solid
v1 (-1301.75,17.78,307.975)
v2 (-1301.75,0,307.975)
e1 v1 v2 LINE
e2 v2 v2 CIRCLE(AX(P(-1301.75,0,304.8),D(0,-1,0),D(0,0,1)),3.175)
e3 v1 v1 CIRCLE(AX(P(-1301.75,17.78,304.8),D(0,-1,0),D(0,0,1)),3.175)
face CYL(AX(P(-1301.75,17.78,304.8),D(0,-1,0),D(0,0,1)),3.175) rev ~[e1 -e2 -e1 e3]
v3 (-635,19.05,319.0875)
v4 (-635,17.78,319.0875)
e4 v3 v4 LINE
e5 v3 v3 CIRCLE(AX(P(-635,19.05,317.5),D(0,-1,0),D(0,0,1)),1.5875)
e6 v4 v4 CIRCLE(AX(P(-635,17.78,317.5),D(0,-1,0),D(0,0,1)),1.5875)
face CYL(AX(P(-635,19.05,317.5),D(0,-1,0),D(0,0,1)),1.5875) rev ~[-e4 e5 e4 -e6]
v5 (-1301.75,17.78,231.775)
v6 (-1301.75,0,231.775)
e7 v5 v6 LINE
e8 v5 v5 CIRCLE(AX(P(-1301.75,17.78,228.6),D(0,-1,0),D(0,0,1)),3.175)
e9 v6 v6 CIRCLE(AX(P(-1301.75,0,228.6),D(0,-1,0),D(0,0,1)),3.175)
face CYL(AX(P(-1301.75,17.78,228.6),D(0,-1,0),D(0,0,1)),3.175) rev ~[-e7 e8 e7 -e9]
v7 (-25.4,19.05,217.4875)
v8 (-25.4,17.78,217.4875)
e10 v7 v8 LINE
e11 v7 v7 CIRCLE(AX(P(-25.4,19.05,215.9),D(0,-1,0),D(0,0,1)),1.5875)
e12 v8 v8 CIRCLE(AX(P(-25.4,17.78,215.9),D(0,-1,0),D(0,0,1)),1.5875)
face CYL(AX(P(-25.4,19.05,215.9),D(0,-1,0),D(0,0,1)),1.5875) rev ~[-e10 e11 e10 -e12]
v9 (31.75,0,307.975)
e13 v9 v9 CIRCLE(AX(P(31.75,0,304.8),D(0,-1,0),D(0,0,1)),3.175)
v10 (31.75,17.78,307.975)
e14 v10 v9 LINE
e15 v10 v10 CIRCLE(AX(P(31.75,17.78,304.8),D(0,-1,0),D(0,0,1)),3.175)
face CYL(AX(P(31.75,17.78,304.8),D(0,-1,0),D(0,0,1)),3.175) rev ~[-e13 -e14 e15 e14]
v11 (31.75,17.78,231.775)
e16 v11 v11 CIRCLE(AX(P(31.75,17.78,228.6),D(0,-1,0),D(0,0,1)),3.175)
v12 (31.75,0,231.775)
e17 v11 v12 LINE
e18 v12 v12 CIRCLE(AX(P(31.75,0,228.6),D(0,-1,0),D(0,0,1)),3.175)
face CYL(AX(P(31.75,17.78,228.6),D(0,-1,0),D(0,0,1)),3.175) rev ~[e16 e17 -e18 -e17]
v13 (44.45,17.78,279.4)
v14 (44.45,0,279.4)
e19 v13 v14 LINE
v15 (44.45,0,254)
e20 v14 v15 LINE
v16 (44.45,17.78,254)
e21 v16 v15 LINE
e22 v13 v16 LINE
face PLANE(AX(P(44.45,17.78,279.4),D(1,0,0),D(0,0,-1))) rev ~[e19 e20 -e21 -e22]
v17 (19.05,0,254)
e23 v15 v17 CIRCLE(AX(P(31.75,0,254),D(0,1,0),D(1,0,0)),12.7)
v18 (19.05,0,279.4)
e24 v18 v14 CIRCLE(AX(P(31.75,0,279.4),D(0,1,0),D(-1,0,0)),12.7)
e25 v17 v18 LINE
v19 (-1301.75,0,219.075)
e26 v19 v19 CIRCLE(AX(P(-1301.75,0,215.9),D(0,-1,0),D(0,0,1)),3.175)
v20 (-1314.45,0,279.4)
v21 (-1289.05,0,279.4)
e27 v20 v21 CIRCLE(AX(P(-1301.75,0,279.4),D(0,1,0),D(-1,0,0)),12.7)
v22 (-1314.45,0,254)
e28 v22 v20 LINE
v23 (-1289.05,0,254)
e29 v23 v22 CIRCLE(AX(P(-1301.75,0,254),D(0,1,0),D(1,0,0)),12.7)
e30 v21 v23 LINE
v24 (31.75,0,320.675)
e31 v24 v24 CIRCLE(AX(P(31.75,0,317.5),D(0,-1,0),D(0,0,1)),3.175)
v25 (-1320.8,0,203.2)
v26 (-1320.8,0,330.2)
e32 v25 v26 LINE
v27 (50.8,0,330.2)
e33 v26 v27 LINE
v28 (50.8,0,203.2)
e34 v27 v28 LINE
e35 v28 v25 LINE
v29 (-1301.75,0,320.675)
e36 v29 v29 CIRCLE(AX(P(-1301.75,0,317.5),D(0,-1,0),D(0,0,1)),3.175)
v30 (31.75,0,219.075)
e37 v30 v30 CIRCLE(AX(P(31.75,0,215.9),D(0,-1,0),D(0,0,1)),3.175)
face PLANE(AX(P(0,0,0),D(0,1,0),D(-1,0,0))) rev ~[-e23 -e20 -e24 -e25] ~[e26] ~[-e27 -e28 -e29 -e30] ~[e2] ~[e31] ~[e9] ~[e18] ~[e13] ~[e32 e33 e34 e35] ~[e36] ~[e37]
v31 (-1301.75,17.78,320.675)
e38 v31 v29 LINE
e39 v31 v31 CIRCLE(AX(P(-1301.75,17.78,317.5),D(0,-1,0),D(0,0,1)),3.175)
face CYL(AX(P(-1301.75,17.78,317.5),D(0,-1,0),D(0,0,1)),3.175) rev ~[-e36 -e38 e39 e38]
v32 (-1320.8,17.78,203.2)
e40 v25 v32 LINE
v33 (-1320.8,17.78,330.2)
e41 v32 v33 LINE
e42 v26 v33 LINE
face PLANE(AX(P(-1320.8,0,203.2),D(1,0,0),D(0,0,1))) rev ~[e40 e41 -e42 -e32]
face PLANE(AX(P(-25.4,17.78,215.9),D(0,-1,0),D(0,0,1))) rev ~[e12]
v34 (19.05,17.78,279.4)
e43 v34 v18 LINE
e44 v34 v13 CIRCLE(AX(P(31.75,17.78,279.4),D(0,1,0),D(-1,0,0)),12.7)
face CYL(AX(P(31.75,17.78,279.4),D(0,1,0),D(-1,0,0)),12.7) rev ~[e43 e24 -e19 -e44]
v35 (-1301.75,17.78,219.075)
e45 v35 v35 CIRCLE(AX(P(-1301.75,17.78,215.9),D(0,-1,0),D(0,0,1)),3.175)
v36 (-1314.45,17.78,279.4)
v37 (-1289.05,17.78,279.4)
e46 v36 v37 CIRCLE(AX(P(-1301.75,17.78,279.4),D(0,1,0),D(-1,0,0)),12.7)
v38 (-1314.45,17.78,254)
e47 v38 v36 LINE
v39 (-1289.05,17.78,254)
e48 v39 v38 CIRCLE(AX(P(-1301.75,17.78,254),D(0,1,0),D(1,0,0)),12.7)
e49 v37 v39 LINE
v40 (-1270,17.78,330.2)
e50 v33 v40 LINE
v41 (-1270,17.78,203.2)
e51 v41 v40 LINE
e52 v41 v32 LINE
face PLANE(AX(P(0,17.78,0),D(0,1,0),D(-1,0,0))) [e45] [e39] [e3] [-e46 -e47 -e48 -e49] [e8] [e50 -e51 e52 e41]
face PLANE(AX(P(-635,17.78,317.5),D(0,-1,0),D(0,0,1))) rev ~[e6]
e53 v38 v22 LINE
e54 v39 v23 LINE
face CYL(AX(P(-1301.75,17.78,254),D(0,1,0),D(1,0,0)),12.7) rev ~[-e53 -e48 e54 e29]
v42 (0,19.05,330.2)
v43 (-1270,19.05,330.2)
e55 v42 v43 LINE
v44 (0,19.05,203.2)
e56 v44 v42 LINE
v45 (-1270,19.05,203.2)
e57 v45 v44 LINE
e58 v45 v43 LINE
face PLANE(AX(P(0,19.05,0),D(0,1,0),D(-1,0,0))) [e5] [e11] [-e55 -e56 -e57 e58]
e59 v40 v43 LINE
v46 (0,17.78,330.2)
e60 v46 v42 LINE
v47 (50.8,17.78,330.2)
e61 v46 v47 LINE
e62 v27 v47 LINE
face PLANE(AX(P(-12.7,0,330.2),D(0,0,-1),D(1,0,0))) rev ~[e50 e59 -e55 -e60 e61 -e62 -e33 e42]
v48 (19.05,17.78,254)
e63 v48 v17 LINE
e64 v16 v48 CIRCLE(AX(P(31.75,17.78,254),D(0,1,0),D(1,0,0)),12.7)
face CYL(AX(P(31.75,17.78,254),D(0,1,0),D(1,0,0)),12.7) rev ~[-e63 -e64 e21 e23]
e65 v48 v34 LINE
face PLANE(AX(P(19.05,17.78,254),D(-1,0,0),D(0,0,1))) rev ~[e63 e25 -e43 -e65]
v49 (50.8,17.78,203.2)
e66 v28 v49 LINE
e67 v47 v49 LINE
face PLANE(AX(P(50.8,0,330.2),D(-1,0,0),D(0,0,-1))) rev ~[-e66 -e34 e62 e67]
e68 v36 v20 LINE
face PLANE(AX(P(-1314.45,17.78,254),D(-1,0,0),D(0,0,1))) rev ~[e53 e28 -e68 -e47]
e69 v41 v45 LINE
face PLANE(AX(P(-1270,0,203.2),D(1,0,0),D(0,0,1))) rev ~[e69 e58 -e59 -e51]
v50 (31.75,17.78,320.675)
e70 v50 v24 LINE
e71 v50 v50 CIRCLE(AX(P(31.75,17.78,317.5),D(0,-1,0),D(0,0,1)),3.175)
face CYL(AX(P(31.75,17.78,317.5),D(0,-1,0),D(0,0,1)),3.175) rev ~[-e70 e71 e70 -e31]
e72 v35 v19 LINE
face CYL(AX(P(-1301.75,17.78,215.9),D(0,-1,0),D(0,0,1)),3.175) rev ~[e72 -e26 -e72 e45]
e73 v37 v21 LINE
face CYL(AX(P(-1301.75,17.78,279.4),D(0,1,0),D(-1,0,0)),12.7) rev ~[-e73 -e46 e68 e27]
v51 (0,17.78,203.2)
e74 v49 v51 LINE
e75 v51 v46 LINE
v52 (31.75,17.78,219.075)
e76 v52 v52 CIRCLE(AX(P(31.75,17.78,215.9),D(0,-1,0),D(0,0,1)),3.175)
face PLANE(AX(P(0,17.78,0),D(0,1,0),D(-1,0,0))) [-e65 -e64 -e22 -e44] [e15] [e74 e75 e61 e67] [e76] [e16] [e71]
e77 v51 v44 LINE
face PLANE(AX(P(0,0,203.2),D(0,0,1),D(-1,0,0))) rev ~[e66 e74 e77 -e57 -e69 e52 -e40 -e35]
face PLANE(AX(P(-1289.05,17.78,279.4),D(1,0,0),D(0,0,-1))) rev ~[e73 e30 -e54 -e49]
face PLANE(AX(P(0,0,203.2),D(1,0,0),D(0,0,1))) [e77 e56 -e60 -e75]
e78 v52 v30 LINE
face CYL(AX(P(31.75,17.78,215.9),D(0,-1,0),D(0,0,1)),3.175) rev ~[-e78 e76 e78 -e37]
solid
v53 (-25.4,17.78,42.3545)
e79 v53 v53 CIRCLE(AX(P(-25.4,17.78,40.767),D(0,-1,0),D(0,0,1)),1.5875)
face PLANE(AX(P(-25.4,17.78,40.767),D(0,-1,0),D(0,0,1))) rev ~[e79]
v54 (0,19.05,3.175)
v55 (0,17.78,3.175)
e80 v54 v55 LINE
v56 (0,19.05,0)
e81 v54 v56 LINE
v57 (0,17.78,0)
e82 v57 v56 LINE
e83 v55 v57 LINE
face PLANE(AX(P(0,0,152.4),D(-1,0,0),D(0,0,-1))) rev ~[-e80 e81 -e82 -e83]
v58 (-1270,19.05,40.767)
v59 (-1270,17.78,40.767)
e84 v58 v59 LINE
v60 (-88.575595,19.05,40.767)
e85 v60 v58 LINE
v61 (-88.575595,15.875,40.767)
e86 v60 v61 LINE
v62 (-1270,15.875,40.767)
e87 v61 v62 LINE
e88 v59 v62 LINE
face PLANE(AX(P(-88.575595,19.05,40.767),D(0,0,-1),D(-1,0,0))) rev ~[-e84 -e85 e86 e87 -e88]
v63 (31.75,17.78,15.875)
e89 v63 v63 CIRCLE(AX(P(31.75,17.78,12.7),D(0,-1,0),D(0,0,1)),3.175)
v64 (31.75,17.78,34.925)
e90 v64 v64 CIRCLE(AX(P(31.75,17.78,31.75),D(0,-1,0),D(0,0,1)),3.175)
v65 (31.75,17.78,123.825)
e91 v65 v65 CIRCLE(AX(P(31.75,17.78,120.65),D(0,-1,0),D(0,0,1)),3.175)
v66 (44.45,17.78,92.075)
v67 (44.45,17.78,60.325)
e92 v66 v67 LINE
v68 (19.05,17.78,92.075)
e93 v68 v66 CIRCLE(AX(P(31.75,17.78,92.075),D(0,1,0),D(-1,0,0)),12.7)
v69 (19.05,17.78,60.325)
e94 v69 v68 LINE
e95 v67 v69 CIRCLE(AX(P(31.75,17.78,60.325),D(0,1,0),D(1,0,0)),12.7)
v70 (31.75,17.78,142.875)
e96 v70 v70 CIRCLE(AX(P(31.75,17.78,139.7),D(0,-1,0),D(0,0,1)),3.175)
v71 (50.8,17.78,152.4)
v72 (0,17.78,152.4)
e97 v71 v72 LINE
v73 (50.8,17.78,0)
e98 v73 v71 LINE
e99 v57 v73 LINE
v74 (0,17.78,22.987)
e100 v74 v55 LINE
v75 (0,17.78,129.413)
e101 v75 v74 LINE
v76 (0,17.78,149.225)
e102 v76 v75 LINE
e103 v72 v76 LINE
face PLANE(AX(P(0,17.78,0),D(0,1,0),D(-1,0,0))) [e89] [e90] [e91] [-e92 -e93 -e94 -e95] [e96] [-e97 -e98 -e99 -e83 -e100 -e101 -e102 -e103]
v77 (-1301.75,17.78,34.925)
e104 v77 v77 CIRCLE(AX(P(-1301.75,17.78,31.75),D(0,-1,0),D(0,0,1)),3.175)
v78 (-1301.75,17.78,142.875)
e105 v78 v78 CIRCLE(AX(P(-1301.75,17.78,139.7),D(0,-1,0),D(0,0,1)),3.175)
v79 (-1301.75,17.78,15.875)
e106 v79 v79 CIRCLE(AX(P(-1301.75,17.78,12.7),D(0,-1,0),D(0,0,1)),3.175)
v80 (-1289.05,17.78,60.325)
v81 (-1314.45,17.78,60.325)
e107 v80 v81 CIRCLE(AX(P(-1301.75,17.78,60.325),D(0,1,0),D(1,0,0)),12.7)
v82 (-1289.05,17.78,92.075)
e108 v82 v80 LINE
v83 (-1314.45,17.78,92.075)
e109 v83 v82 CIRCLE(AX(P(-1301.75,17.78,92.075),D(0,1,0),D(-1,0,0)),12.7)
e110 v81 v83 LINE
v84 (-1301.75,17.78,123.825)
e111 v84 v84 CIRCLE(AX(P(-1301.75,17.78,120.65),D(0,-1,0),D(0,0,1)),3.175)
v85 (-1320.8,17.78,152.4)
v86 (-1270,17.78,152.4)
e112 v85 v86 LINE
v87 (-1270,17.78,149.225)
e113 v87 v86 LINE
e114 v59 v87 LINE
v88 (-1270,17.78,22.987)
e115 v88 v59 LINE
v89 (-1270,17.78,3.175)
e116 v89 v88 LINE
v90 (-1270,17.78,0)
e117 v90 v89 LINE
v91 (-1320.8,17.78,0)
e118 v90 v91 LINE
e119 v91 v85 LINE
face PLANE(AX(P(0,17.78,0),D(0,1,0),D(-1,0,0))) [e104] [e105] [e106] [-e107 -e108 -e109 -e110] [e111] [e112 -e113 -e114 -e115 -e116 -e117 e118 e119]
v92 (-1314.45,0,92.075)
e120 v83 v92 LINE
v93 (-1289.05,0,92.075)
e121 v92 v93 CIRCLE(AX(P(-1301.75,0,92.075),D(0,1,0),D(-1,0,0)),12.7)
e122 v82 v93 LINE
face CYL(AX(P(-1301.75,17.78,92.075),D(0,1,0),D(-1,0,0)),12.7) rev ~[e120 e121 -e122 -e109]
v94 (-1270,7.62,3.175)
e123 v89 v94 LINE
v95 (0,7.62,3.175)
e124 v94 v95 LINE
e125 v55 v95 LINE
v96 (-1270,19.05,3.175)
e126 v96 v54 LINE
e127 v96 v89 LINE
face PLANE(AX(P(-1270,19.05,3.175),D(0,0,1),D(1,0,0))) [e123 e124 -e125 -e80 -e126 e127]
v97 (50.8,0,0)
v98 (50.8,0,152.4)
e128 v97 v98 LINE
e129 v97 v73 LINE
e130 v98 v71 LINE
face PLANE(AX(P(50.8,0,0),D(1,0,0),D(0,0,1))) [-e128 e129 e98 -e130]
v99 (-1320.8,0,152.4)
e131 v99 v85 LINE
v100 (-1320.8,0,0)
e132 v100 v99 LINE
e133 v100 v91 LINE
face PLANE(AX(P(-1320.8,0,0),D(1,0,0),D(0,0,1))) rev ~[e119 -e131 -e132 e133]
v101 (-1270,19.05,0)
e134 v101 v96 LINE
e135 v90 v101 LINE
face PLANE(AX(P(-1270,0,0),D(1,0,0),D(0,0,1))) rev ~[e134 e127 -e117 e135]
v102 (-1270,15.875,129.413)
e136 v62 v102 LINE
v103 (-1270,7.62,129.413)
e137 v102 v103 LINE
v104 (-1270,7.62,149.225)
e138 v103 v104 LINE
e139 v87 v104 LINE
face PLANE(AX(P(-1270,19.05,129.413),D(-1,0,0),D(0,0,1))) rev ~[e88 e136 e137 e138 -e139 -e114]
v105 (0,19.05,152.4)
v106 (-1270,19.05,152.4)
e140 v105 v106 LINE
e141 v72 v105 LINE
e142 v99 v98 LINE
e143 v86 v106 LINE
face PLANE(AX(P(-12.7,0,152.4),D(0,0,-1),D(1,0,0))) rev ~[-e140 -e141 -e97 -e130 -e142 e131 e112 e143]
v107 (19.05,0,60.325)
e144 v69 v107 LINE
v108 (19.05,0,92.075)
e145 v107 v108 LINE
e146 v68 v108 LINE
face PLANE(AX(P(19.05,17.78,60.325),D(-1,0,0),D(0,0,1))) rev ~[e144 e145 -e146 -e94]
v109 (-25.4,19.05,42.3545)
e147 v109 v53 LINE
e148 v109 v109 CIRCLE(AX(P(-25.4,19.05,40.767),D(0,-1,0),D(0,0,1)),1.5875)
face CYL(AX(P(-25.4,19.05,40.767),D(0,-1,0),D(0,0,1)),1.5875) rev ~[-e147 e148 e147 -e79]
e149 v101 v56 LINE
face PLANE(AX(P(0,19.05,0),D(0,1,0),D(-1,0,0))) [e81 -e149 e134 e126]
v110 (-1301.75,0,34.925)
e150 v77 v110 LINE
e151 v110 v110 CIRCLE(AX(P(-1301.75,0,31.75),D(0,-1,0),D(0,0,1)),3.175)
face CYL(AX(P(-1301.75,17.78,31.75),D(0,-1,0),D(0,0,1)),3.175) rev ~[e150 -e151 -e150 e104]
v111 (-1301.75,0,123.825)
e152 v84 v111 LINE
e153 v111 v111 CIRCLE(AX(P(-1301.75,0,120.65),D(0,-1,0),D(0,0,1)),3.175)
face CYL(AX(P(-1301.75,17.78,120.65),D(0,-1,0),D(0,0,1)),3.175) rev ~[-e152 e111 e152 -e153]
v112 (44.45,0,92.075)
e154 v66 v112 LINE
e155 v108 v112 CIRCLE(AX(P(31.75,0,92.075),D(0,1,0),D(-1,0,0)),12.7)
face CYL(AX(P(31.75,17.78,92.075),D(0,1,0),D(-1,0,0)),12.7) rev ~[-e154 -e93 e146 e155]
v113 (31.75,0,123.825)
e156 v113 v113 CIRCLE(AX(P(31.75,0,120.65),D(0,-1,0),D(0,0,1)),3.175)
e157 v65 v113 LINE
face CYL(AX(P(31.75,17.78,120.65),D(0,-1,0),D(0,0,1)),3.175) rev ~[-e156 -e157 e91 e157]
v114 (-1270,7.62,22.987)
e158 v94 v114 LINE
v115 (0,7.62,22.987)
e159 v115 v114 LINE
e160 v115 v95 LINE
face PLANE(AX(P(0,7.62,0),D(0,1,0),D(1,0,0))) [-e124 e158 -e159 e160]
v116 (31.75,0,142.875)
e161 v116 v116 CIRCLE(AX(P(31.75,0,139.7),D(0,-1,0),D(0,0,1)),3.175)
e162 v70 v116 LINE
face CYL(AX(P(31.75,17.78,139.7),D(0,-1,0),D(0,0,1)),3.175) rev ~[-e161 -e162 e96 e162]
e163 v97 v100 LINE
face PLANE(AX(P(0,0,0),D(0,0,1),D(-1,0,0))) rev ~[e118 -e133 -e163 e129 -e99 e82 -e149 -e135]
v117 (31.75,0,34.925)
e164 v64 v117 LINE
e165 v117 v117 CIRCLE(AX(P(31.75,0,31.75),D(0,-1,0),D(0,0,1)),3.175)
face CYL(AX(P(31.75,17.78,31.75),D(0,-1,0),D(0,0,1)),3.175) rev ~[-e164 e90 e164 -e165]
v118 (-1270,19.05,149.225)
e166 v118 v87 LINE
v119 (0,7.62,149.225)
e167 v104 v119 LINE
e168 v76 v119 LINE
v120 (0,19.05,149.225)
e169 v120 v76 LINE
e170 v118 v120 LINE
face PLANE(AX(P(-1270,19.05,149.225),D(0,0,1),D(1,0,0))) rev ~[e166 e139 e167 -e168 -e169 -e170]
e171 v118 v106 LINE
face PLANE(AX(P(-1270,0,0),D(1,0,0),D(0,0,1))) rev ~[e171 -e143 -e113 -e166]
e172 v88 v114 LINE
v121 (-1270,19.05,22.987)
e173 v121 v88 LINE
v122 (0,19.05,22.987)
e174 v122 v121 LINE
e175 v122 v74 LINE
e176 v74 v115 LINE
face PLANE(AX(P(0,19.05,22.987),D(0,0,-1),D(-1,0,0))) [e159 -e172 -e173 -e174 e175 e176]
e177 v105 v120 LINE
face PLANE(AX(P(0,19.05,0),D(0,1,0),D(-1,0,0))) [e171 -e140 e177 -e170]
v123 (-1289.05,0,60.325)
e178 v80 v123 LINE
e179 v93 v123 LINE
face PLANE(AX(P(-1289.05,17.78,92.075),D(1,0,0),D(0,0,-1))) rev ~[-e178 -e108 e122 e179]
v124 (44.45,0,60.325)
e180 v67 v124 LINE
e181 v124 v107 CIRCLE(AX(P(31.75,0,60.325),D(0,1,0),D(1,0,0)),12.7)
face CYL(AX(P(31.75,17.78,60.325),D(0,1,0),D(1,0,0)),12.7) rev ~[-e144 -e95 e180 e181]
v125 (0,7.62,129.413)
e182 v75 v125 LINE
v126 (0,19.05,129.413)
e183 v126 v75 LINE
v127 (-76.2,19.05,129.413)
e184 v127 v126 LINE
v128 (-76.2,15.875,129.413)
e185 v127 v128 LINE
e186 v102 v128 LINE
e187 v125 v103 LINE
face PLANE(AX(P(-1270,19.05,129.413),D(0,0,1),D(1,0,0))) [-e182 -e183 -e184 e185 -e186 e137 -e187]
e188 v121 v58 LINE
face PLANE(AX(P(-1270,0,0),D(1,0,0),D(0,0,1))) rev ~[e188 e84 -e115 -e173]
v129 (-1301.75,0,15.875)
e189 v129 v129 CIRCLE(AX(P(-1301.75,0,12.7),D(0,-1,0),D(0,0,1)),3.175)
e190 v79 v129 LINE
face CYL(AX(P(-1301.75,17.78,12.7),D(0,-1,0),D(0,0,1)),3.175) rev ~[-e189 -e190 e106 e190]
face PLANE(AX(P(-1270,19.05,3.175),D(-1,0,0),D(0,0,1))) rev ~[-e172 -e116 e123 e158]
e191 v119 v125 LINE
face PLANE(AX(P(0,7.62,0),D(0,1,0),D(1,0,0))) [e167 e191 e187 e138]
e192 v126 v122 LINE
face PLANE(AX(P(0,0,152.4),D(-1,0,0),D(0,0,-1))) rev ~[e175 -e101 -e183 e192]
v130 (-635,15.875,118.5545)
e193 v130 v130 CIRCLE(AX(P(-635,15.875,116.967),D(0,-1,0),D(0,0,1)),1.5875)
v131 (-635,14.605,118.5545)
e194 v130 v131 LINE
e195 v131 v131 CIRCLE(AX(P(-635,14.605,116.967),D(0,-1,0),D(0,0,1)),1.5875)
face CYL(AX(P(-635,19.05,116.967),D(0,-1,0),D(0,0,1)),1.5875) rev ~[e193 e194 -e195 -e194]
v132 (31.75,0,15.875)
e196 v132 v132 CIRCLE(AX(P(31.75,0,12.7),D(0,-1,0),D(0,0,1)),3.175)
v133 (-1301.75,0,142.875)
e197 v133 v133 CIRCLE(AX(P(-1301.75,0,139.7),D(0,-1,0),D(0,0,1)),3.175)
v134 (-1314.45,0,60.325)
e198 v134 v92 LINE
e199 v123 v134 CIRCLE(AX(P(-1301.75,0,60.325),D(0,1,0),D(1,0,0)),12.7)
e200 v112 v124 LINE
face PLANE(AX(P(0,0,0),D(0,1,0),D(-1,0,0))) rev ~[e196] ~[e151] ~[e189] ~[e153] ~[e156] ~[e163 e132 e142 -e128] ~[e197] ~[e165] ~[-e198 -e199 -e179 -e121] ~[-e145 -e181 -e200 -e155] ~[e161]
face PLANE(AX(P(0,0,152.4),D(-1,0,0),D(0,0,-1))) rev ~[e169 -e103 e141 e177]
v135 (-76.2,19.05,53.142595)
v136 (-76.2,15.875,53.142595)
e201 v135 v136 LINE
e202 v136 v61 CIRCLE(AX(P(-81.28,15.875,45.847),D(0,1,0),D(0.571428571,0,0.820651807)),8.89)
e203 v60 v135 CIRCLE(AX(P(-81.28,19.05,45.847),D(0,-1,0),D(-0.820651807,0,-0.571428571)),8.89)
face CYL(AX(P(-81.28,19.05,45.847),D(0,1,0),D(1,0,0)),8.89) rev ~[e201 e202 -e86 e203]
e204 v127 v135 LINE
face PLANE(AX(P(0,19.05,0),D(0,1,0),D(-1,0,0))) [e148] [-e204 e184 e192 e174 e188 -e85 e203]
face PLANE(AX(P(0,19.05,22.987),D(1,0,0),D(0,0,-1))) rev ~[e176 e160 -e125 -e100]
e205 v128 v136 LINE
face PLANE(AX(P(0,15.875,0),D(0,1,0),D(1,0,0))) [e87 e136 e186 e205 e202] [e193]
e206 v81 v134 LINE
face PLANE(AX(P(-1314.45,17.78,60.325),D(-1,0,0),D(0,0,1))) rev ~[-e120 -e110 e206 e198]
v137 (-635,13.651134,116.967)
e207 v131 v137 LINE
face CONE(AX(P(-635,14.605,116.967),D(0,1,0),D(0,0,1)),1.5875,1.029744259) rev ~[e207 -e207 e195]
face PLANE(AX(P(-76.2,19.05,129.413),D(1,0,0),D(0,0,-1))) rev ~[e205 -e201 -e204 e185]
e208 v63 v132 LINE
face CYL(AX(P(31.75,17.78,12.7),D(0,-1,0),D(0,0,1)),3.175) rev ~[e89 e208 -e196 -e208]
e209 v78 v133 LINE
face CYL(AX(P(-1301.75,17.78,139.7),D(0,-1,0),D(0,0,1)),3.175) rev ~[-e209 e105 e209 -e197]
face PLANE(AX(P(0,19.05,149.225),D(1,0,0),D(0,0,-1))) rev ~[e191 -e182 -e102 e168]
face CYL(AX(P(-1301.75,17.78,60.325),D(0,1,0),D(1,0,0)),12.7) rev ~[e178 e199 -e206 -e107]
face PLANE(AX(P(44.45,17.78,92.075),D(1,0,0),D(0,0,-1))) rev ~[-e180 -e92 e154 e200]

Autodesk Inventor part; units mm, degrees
ref_plane "YZ Plane" through (0, 0, 0) normal (1, 0, 0) x (0, 1, 0)
ref_plane "XZ Plane" through (0, 0, 0) normal (0, 1, 0) x (-1, 0, 0)
ref_plane "XY Plane" through (0, 0, 0) normal (0, 0, 1) x (1, 0, 0)
sketch "Base Sketch" plane through (0, 0, 0) normal (0, 1, 0) x (-1, 0, 0)
  line L0 (0, 0) -> (1270, 0)
  line L1 (1270, 0) -> (1270, 152.4)
  line L2 (1270, 152.4) -> (0, 152.4)
  line L3 (0, 152.4) -> (0, 0)
  line L4 (1270, 0) -> (1320.8, 0)
  line L5 (1320.8, 0) -> (1320.8, 152.4)
  line L6 (1320.8, 152.4) -> (1270, 152.4)
  line L7 (1270, 152.4) -> (1270, 0)
  line L8 (0, 0) -> (-50.8, 0)
  line L9 (-50.8, 0) -> (-50.8, 152.4)
  line L10 (-50.8, 152.4) -> (0, 152.4)
  line L11 (0, 152.4) -> (0, 0)
  line L12 (1320.8, 152.4) -> (-50.8, 152.4)
  line L13 (-50.8, 152.4) -> (-50.8, 203.2)
  line L14 (-50.8, 203.2) -> (1320.8, 203.2)
  line L15 (1320.8, 203.2) -> (1320.8, 152.4)
  line L16 (-50.8, 203.2) -> (1320.8, 203.2)
  line L17 (1320.8, 203.2) -> (1320.8, 330.2)
  line L18 (1320.8, 330.2) -> (-50.8, 330.2)
  line L19 (-50.8, 330.2) -> (-50.8, 203.2)
  line L20 (1270, 203.2) -> (1270, 330.2)
  line L21 (0, 203.2) -> (0, 330.2)
  line L22 (1257.3, 152.4) -> (1257.3, 0)
  line L23 (12.7, 0) -> (12.7, 152.4)
  line L24 (12.7, 203.2) -> (12.7, 330.2)
  line L25 (1257.3, 203.2) -> (1257.3, 330.2)
  line L26 (1238.25, 222.25) -> (31.75, 222.25) construction
  line L27 (31.75, 222.25) -> (31.75, 311.15) construction
  line L28 (31.75, 311.15) -> (1238.25, 311.15) construction
  line L29 (1238.25, 311.15) -> (1238.25, 222.25) construction
  dimension "d0" = 1270
  dimension "d1" = 152.4
  dimension "d2" = 50.8
  dimension "d3" = 50.8
  dimension "d79" = 50.8
  dimension "d80" = 127
  dimension "d81" = 12.7
  dimension "d82" = 12.7
  dimension "d83" = 50.8
  dimension "d84" = 50.8
  dimension "d85" = 19.05
  dimension "d86" = 19.05
  dimension "d87" = 19.05
  dimension "d88" = 19.05
extrude "Base" add sketch "Base Sketch" along normal blind 19.05 contours L3 L2 L23 L0 | L23 L2 L22 L0 | L22 L2 L1 L0 | L21 L18 L24 L14 | L24 L18 L25 L14 | L25 L18 L20 L14
extrude "Lower Level" add sketch "Base Sketch" along normal blind 17.78 contours L8 L9 L10 L3 | L1 L6 L5 L4 | L19 L18 L21 L14 | L14 L20 L18 L17
sketch "Track Sketch" plane through (0, 19.05, 0) normal (0, 1, 0) x (1, 0, 0)
  line L0 (0, 0) -> (-1270, 0) projected
  line L1 (-1270, 0) -> (-1270, -152.4) projected
  line L2 (-1270, -152.4) -> (0, -152.4) projected
  line L3 (0, -152.4) -> (0, 0) projected
  line L4 (-1270, -3.175) -> (0, -3.175)
  line L5 (0, -152.4) -> (0, 0) projected
  line L6 (0, -22.987) -> (-1270, -22.987)
  line L7 (-1270, 0) -> (-1270, -152.4) projected
  line L8 (-1270, -149.225) -> (0, -149.225)
  line L9 (-1270, -129.413) -> (0, -129.413)
  line L10 (-76.2, -40.767) -> (-1270, -40.767)
  line L11 (-1270, -40.767) -> (-1270, -129.413)
  line L12 (-1270, -129.413) -> (-76.2, -129.413)
  line L13 (-76.2, -129.413) -> (-76.2, -40.767)
  circle A0 centre (-81.28, -45.847) radius 8.89
  dimension "d91" = 3.175
  dimension "d92" = 19.812
  dimension "d93" = 17.78
  dimension "d94" = 76.2
  dimension "d95" = 3.175
  dimension "d96" = 19.812
  dimension "d97" = 17.78
  dimension "d98" = 5.08
  dimension "d99" = 5.08
extrude "Tracks Cut" cut sketch "Track Sketch" against normal blind 11.43 contours L3 L6 L1 L4 | L3 L8 L1 L9
extrude "Pocket Side" cut sketch "Track Sketch" against normal blind 3.175 contours L10 A0 L13 L9 L1 | A0 L13 L10 | L10 L13 A0
sketch "Origin Sketch" plane through (0, 19.05, 0) normal (0, 1, 0) x (1, 0, 0)
  line L0 (50.8, 0) -> (-1320.8, 0) projected
  line L1 (50.8, -152.4) -> (50.8, 0) projected
  line L2 (-1320.8, -152.4) -> (50.8, -152.4) projected
  line L3 (-1320.8, 0) -> (-1320.8, -152.4) projected
  line L4 (0, -152.4) -> (0, -149.225) projected
  line L5 (0, -152.4) -> (50.8, -152.4) projected
  line L6 (50.8, -152.4) -> (50.8, 0) projected
  line L7 (50.8, 0) -> (0, 0) projected
  line L8 (0, -3.175) -> (0, 0) projected
  line L9 (0, -22.987) -> (0, -3.175) projected
  line L10 (0, -129.413) -> (0, -22.987) projected
  line L11 (0, -149.225) -> (0, -129.413) projected
  line L12 (-1270, -40.767) -> (-88.5756, -40.767) projected
  line L13 (0, -203.2) -> (-1270, -203.2) projected
  line L14 (0, -330.2) -> (0, -203.2) projected
  line L15 (-1238.25, -222.25) -> (-31.75, -222.25) construction
  line L16 (-1238.25, -311.15) -> (-1238.25, -222.25) construction
  line L17 (-31.75, -311.15) -> (-1238.25, -311.15) construction
  line L18 (-31.75, -222.25) -> (-31.75, -311.15) construction
  line L19 (-12.7, -203.2) -> (-12.7, -330.2) projected
  line L20 (0, -203.2) -> (0, -330.2) projected
  line L21 (-1270, -203.2) -> (-1270, -330.2) projected
  line L22 (-1257.3, -203.2) -> (-1257.3, -330.2) projected
  line L23 (-1257.3, -152.4) -> (-1257.3, 0) projected
  line L24 (-1270, 0) -> (-1270, -152.4) projected
  line L25 (-12.7, 0) -> (-12.7, -152.4) projected
  line L26 (0, -152.4) -> (0, 0) projected
  line L27 (-76.2, -53.1426) -> (-76.2, -129.413) projected
  point P0 (-25.4, -40.767)
  point P1 (50.8, -203.2)
  point P2 (-635, -116.967)
  point P3 (-25.4, -215.9)
  point P4 (-635, -317.5)
  dimension "d72" = 76.2
  dimension "d73" = 609.6
  dimension "d100" = 25.4
  dimension "d102" = 12.7
  dimension "d103" = 25.4
  dimension "d127" = 101.6
  dimension "d128" = 609.6
sketch "Handles Sketch" plane through (0, 17.78, 0) normal (0, 1, 0) x (1, 0, 0)
  line L0 (-1301.75, -47.625) -> (-1301.75, -104.775) construction
  line L1 (-1314.45, -60.325) -> (-1314.45, -92.075)
  line L2 (-1289.05, -92.075) -> (-1289.05, -60.325)
  arc A0 (-1289.05, -60.325) -> (-1314.45, -60.325) centre (-1301.75, -60.325) ccw
  arc A1 (-1314.45, -92.075) -> (-1289.05, -92.075) centre (-1301.75, -92.075) ccw
  line L3 (-1270, 0) -> (-1320.8, 0) projected
  line L4 (-1320.8, 0) -> (-1320.8, -152.4) projected
  line L5 (50.8, -152.4) -> (50.8, 0) projected
  line L6 (-1320.8, -152.4) -> (-1270, -152.4) projected
  line L7 (-1270, -203.2) -> (-1320.8, -203.2) projected
  line L8 (-1320.8, -330.2) -> (-1270, -330.2) projected
  line L9 (-1301.75, -241.3) -> (-1301.75, -292.1) construction
  line L10 (-1314.45, -254) -> (-1314.45, -279.4)
  line L11 (-1289.05, -279.4) -> (-1289.05, -254)
  arc A2 (-1289.05, -254) -> (-1314.45, -254) centre (-1301.75, -254) ccw
  arc A3 (-1314.45, -279.4) -> (-1289.05, -279.4) centre (-1301.75, -279.4) ccw
  line L12 (31.75, -47.625) -> (31.75, -104.775) construction
  line L13 (19.05, -60.325) -> (19.05, -92.075)
  line L14 (44.45, -92.075) -> (44.45, -60.325)
  arc A4 (44.45, -60.325) -> (19.05, -60.325) centre (31.75, -60.325) ccw
  arc A5 (19.05, -92.075) -> (44.45, -92.075) centre (31.75, -92.075) ccw
  line L15 (31.75, -241.3) -> (31.75, -292.1) construction
  line L16 (19.05, -254) -> (19.05, -279.4)
  line L17 (44.45, -279.4) -> (44.45, -254)
  arc A6 (44.45, -254) -> (19.05, -254) centre (31.75, -254) ccw
  arc A7 (19.05, -279.4) -> (44.45, -279.4) centre (31.75, -279.4) ccw
  point P0 (0, 0)
  point P1 (31.75, -12.7)
  point P2 (31.75, -31.75)
  point P3 (31.75, -120.65)
  point P4 (31.75, -139.7)
  point P5 (31.75, -215.9)
  point P6 (31.75, -228.6)
  point P7 (31.75, -304.8)
  point P8 (31.75, -317.5)
  point P9 (-1301.75, -317.5)
  point P10 (-1301.75, -304.8)
  point P11 (-1301.75, -228.6)
  point P12 (-1301.75, -215.9)
  point P13 (-1301.75, -139.7)
  point P14 (-1301.75, -120.65)
  point P15 (-1301.75, -31.75)
  point P16 (-1301.75, -12.7)
  point P17 (-1301.75, -76.2)
  point P18 (-1301.75, -266.7)
  point P19 (31.75, -76.2)
  point P20 (31.75, -266.7)
  dimension "d104" = 57.15
  dimension "d105" = 25.4
  dimension "d106" = 76.2
  dimension "d107" = 19.05
  dimension "d108" = 19.05
  dimension "d109" = 19.05
  dimension "d110" = 12.7
  dimension "d111" = 19.05
  dimension "d112" = 12.7
  dimension "d113" = 19.05
  dimension "d114" = 12.7
  dimension "d115" = 12.7
  dimension "d116" = 12.7
  dimension "d117" = 12.7
  dimension "d118" = 50.8
  dimension "d119" = 25.4
  dimension "d120" = 63.5
  dimension "d121" = 57.15
  dimension "d122" = 25.4
  dimension "d123" = 50.8
  dimension "d124" = 25.4
extrude "Extrusion6" cut sketch "Handles Sketch" against normal through all
hole "Hole1" at (-25.4, 19.05, 40.767) at (-635, 19.05, 317.5) at (-25.4, 19.05, 215.9) direction (0, -1, 0) diameter 3.175 depth 1.27
hole "Hole3" at (-635, 19.05, 116.967) direction (0, -1, 0) diameter 3.175 depth 4.445 tip angle 118
hole "Hole2" at (-1301.75, 17.78, 12.7) at (-1301.75, 17.78, 31.75) at (-1301.75, 17.78, 120.65) at (-1301.75, 17.78, 139.7) at (-1301.75, 17.78, 215.9) at (-1301.75, 17.78, 228.6) at (-1301.75, 17.78, 304.8) at (-1301.75, 17.78, 317.5) at (31.75, 17.78, 215.9) at (31.75, 17.78, 228.6) at (31.75, 17.78, 304.8) at (31.75, 17.78, 317.5) at (31.75, 17.78, 139.7) at (31.75, 17.78, 120.65) at (31.75, 17.78, 31.75) at (31.75, 17.78, 12.7) direction (0, -1, 0) diameter 6.35 end through all
properties part number "Button Fixture Base"
